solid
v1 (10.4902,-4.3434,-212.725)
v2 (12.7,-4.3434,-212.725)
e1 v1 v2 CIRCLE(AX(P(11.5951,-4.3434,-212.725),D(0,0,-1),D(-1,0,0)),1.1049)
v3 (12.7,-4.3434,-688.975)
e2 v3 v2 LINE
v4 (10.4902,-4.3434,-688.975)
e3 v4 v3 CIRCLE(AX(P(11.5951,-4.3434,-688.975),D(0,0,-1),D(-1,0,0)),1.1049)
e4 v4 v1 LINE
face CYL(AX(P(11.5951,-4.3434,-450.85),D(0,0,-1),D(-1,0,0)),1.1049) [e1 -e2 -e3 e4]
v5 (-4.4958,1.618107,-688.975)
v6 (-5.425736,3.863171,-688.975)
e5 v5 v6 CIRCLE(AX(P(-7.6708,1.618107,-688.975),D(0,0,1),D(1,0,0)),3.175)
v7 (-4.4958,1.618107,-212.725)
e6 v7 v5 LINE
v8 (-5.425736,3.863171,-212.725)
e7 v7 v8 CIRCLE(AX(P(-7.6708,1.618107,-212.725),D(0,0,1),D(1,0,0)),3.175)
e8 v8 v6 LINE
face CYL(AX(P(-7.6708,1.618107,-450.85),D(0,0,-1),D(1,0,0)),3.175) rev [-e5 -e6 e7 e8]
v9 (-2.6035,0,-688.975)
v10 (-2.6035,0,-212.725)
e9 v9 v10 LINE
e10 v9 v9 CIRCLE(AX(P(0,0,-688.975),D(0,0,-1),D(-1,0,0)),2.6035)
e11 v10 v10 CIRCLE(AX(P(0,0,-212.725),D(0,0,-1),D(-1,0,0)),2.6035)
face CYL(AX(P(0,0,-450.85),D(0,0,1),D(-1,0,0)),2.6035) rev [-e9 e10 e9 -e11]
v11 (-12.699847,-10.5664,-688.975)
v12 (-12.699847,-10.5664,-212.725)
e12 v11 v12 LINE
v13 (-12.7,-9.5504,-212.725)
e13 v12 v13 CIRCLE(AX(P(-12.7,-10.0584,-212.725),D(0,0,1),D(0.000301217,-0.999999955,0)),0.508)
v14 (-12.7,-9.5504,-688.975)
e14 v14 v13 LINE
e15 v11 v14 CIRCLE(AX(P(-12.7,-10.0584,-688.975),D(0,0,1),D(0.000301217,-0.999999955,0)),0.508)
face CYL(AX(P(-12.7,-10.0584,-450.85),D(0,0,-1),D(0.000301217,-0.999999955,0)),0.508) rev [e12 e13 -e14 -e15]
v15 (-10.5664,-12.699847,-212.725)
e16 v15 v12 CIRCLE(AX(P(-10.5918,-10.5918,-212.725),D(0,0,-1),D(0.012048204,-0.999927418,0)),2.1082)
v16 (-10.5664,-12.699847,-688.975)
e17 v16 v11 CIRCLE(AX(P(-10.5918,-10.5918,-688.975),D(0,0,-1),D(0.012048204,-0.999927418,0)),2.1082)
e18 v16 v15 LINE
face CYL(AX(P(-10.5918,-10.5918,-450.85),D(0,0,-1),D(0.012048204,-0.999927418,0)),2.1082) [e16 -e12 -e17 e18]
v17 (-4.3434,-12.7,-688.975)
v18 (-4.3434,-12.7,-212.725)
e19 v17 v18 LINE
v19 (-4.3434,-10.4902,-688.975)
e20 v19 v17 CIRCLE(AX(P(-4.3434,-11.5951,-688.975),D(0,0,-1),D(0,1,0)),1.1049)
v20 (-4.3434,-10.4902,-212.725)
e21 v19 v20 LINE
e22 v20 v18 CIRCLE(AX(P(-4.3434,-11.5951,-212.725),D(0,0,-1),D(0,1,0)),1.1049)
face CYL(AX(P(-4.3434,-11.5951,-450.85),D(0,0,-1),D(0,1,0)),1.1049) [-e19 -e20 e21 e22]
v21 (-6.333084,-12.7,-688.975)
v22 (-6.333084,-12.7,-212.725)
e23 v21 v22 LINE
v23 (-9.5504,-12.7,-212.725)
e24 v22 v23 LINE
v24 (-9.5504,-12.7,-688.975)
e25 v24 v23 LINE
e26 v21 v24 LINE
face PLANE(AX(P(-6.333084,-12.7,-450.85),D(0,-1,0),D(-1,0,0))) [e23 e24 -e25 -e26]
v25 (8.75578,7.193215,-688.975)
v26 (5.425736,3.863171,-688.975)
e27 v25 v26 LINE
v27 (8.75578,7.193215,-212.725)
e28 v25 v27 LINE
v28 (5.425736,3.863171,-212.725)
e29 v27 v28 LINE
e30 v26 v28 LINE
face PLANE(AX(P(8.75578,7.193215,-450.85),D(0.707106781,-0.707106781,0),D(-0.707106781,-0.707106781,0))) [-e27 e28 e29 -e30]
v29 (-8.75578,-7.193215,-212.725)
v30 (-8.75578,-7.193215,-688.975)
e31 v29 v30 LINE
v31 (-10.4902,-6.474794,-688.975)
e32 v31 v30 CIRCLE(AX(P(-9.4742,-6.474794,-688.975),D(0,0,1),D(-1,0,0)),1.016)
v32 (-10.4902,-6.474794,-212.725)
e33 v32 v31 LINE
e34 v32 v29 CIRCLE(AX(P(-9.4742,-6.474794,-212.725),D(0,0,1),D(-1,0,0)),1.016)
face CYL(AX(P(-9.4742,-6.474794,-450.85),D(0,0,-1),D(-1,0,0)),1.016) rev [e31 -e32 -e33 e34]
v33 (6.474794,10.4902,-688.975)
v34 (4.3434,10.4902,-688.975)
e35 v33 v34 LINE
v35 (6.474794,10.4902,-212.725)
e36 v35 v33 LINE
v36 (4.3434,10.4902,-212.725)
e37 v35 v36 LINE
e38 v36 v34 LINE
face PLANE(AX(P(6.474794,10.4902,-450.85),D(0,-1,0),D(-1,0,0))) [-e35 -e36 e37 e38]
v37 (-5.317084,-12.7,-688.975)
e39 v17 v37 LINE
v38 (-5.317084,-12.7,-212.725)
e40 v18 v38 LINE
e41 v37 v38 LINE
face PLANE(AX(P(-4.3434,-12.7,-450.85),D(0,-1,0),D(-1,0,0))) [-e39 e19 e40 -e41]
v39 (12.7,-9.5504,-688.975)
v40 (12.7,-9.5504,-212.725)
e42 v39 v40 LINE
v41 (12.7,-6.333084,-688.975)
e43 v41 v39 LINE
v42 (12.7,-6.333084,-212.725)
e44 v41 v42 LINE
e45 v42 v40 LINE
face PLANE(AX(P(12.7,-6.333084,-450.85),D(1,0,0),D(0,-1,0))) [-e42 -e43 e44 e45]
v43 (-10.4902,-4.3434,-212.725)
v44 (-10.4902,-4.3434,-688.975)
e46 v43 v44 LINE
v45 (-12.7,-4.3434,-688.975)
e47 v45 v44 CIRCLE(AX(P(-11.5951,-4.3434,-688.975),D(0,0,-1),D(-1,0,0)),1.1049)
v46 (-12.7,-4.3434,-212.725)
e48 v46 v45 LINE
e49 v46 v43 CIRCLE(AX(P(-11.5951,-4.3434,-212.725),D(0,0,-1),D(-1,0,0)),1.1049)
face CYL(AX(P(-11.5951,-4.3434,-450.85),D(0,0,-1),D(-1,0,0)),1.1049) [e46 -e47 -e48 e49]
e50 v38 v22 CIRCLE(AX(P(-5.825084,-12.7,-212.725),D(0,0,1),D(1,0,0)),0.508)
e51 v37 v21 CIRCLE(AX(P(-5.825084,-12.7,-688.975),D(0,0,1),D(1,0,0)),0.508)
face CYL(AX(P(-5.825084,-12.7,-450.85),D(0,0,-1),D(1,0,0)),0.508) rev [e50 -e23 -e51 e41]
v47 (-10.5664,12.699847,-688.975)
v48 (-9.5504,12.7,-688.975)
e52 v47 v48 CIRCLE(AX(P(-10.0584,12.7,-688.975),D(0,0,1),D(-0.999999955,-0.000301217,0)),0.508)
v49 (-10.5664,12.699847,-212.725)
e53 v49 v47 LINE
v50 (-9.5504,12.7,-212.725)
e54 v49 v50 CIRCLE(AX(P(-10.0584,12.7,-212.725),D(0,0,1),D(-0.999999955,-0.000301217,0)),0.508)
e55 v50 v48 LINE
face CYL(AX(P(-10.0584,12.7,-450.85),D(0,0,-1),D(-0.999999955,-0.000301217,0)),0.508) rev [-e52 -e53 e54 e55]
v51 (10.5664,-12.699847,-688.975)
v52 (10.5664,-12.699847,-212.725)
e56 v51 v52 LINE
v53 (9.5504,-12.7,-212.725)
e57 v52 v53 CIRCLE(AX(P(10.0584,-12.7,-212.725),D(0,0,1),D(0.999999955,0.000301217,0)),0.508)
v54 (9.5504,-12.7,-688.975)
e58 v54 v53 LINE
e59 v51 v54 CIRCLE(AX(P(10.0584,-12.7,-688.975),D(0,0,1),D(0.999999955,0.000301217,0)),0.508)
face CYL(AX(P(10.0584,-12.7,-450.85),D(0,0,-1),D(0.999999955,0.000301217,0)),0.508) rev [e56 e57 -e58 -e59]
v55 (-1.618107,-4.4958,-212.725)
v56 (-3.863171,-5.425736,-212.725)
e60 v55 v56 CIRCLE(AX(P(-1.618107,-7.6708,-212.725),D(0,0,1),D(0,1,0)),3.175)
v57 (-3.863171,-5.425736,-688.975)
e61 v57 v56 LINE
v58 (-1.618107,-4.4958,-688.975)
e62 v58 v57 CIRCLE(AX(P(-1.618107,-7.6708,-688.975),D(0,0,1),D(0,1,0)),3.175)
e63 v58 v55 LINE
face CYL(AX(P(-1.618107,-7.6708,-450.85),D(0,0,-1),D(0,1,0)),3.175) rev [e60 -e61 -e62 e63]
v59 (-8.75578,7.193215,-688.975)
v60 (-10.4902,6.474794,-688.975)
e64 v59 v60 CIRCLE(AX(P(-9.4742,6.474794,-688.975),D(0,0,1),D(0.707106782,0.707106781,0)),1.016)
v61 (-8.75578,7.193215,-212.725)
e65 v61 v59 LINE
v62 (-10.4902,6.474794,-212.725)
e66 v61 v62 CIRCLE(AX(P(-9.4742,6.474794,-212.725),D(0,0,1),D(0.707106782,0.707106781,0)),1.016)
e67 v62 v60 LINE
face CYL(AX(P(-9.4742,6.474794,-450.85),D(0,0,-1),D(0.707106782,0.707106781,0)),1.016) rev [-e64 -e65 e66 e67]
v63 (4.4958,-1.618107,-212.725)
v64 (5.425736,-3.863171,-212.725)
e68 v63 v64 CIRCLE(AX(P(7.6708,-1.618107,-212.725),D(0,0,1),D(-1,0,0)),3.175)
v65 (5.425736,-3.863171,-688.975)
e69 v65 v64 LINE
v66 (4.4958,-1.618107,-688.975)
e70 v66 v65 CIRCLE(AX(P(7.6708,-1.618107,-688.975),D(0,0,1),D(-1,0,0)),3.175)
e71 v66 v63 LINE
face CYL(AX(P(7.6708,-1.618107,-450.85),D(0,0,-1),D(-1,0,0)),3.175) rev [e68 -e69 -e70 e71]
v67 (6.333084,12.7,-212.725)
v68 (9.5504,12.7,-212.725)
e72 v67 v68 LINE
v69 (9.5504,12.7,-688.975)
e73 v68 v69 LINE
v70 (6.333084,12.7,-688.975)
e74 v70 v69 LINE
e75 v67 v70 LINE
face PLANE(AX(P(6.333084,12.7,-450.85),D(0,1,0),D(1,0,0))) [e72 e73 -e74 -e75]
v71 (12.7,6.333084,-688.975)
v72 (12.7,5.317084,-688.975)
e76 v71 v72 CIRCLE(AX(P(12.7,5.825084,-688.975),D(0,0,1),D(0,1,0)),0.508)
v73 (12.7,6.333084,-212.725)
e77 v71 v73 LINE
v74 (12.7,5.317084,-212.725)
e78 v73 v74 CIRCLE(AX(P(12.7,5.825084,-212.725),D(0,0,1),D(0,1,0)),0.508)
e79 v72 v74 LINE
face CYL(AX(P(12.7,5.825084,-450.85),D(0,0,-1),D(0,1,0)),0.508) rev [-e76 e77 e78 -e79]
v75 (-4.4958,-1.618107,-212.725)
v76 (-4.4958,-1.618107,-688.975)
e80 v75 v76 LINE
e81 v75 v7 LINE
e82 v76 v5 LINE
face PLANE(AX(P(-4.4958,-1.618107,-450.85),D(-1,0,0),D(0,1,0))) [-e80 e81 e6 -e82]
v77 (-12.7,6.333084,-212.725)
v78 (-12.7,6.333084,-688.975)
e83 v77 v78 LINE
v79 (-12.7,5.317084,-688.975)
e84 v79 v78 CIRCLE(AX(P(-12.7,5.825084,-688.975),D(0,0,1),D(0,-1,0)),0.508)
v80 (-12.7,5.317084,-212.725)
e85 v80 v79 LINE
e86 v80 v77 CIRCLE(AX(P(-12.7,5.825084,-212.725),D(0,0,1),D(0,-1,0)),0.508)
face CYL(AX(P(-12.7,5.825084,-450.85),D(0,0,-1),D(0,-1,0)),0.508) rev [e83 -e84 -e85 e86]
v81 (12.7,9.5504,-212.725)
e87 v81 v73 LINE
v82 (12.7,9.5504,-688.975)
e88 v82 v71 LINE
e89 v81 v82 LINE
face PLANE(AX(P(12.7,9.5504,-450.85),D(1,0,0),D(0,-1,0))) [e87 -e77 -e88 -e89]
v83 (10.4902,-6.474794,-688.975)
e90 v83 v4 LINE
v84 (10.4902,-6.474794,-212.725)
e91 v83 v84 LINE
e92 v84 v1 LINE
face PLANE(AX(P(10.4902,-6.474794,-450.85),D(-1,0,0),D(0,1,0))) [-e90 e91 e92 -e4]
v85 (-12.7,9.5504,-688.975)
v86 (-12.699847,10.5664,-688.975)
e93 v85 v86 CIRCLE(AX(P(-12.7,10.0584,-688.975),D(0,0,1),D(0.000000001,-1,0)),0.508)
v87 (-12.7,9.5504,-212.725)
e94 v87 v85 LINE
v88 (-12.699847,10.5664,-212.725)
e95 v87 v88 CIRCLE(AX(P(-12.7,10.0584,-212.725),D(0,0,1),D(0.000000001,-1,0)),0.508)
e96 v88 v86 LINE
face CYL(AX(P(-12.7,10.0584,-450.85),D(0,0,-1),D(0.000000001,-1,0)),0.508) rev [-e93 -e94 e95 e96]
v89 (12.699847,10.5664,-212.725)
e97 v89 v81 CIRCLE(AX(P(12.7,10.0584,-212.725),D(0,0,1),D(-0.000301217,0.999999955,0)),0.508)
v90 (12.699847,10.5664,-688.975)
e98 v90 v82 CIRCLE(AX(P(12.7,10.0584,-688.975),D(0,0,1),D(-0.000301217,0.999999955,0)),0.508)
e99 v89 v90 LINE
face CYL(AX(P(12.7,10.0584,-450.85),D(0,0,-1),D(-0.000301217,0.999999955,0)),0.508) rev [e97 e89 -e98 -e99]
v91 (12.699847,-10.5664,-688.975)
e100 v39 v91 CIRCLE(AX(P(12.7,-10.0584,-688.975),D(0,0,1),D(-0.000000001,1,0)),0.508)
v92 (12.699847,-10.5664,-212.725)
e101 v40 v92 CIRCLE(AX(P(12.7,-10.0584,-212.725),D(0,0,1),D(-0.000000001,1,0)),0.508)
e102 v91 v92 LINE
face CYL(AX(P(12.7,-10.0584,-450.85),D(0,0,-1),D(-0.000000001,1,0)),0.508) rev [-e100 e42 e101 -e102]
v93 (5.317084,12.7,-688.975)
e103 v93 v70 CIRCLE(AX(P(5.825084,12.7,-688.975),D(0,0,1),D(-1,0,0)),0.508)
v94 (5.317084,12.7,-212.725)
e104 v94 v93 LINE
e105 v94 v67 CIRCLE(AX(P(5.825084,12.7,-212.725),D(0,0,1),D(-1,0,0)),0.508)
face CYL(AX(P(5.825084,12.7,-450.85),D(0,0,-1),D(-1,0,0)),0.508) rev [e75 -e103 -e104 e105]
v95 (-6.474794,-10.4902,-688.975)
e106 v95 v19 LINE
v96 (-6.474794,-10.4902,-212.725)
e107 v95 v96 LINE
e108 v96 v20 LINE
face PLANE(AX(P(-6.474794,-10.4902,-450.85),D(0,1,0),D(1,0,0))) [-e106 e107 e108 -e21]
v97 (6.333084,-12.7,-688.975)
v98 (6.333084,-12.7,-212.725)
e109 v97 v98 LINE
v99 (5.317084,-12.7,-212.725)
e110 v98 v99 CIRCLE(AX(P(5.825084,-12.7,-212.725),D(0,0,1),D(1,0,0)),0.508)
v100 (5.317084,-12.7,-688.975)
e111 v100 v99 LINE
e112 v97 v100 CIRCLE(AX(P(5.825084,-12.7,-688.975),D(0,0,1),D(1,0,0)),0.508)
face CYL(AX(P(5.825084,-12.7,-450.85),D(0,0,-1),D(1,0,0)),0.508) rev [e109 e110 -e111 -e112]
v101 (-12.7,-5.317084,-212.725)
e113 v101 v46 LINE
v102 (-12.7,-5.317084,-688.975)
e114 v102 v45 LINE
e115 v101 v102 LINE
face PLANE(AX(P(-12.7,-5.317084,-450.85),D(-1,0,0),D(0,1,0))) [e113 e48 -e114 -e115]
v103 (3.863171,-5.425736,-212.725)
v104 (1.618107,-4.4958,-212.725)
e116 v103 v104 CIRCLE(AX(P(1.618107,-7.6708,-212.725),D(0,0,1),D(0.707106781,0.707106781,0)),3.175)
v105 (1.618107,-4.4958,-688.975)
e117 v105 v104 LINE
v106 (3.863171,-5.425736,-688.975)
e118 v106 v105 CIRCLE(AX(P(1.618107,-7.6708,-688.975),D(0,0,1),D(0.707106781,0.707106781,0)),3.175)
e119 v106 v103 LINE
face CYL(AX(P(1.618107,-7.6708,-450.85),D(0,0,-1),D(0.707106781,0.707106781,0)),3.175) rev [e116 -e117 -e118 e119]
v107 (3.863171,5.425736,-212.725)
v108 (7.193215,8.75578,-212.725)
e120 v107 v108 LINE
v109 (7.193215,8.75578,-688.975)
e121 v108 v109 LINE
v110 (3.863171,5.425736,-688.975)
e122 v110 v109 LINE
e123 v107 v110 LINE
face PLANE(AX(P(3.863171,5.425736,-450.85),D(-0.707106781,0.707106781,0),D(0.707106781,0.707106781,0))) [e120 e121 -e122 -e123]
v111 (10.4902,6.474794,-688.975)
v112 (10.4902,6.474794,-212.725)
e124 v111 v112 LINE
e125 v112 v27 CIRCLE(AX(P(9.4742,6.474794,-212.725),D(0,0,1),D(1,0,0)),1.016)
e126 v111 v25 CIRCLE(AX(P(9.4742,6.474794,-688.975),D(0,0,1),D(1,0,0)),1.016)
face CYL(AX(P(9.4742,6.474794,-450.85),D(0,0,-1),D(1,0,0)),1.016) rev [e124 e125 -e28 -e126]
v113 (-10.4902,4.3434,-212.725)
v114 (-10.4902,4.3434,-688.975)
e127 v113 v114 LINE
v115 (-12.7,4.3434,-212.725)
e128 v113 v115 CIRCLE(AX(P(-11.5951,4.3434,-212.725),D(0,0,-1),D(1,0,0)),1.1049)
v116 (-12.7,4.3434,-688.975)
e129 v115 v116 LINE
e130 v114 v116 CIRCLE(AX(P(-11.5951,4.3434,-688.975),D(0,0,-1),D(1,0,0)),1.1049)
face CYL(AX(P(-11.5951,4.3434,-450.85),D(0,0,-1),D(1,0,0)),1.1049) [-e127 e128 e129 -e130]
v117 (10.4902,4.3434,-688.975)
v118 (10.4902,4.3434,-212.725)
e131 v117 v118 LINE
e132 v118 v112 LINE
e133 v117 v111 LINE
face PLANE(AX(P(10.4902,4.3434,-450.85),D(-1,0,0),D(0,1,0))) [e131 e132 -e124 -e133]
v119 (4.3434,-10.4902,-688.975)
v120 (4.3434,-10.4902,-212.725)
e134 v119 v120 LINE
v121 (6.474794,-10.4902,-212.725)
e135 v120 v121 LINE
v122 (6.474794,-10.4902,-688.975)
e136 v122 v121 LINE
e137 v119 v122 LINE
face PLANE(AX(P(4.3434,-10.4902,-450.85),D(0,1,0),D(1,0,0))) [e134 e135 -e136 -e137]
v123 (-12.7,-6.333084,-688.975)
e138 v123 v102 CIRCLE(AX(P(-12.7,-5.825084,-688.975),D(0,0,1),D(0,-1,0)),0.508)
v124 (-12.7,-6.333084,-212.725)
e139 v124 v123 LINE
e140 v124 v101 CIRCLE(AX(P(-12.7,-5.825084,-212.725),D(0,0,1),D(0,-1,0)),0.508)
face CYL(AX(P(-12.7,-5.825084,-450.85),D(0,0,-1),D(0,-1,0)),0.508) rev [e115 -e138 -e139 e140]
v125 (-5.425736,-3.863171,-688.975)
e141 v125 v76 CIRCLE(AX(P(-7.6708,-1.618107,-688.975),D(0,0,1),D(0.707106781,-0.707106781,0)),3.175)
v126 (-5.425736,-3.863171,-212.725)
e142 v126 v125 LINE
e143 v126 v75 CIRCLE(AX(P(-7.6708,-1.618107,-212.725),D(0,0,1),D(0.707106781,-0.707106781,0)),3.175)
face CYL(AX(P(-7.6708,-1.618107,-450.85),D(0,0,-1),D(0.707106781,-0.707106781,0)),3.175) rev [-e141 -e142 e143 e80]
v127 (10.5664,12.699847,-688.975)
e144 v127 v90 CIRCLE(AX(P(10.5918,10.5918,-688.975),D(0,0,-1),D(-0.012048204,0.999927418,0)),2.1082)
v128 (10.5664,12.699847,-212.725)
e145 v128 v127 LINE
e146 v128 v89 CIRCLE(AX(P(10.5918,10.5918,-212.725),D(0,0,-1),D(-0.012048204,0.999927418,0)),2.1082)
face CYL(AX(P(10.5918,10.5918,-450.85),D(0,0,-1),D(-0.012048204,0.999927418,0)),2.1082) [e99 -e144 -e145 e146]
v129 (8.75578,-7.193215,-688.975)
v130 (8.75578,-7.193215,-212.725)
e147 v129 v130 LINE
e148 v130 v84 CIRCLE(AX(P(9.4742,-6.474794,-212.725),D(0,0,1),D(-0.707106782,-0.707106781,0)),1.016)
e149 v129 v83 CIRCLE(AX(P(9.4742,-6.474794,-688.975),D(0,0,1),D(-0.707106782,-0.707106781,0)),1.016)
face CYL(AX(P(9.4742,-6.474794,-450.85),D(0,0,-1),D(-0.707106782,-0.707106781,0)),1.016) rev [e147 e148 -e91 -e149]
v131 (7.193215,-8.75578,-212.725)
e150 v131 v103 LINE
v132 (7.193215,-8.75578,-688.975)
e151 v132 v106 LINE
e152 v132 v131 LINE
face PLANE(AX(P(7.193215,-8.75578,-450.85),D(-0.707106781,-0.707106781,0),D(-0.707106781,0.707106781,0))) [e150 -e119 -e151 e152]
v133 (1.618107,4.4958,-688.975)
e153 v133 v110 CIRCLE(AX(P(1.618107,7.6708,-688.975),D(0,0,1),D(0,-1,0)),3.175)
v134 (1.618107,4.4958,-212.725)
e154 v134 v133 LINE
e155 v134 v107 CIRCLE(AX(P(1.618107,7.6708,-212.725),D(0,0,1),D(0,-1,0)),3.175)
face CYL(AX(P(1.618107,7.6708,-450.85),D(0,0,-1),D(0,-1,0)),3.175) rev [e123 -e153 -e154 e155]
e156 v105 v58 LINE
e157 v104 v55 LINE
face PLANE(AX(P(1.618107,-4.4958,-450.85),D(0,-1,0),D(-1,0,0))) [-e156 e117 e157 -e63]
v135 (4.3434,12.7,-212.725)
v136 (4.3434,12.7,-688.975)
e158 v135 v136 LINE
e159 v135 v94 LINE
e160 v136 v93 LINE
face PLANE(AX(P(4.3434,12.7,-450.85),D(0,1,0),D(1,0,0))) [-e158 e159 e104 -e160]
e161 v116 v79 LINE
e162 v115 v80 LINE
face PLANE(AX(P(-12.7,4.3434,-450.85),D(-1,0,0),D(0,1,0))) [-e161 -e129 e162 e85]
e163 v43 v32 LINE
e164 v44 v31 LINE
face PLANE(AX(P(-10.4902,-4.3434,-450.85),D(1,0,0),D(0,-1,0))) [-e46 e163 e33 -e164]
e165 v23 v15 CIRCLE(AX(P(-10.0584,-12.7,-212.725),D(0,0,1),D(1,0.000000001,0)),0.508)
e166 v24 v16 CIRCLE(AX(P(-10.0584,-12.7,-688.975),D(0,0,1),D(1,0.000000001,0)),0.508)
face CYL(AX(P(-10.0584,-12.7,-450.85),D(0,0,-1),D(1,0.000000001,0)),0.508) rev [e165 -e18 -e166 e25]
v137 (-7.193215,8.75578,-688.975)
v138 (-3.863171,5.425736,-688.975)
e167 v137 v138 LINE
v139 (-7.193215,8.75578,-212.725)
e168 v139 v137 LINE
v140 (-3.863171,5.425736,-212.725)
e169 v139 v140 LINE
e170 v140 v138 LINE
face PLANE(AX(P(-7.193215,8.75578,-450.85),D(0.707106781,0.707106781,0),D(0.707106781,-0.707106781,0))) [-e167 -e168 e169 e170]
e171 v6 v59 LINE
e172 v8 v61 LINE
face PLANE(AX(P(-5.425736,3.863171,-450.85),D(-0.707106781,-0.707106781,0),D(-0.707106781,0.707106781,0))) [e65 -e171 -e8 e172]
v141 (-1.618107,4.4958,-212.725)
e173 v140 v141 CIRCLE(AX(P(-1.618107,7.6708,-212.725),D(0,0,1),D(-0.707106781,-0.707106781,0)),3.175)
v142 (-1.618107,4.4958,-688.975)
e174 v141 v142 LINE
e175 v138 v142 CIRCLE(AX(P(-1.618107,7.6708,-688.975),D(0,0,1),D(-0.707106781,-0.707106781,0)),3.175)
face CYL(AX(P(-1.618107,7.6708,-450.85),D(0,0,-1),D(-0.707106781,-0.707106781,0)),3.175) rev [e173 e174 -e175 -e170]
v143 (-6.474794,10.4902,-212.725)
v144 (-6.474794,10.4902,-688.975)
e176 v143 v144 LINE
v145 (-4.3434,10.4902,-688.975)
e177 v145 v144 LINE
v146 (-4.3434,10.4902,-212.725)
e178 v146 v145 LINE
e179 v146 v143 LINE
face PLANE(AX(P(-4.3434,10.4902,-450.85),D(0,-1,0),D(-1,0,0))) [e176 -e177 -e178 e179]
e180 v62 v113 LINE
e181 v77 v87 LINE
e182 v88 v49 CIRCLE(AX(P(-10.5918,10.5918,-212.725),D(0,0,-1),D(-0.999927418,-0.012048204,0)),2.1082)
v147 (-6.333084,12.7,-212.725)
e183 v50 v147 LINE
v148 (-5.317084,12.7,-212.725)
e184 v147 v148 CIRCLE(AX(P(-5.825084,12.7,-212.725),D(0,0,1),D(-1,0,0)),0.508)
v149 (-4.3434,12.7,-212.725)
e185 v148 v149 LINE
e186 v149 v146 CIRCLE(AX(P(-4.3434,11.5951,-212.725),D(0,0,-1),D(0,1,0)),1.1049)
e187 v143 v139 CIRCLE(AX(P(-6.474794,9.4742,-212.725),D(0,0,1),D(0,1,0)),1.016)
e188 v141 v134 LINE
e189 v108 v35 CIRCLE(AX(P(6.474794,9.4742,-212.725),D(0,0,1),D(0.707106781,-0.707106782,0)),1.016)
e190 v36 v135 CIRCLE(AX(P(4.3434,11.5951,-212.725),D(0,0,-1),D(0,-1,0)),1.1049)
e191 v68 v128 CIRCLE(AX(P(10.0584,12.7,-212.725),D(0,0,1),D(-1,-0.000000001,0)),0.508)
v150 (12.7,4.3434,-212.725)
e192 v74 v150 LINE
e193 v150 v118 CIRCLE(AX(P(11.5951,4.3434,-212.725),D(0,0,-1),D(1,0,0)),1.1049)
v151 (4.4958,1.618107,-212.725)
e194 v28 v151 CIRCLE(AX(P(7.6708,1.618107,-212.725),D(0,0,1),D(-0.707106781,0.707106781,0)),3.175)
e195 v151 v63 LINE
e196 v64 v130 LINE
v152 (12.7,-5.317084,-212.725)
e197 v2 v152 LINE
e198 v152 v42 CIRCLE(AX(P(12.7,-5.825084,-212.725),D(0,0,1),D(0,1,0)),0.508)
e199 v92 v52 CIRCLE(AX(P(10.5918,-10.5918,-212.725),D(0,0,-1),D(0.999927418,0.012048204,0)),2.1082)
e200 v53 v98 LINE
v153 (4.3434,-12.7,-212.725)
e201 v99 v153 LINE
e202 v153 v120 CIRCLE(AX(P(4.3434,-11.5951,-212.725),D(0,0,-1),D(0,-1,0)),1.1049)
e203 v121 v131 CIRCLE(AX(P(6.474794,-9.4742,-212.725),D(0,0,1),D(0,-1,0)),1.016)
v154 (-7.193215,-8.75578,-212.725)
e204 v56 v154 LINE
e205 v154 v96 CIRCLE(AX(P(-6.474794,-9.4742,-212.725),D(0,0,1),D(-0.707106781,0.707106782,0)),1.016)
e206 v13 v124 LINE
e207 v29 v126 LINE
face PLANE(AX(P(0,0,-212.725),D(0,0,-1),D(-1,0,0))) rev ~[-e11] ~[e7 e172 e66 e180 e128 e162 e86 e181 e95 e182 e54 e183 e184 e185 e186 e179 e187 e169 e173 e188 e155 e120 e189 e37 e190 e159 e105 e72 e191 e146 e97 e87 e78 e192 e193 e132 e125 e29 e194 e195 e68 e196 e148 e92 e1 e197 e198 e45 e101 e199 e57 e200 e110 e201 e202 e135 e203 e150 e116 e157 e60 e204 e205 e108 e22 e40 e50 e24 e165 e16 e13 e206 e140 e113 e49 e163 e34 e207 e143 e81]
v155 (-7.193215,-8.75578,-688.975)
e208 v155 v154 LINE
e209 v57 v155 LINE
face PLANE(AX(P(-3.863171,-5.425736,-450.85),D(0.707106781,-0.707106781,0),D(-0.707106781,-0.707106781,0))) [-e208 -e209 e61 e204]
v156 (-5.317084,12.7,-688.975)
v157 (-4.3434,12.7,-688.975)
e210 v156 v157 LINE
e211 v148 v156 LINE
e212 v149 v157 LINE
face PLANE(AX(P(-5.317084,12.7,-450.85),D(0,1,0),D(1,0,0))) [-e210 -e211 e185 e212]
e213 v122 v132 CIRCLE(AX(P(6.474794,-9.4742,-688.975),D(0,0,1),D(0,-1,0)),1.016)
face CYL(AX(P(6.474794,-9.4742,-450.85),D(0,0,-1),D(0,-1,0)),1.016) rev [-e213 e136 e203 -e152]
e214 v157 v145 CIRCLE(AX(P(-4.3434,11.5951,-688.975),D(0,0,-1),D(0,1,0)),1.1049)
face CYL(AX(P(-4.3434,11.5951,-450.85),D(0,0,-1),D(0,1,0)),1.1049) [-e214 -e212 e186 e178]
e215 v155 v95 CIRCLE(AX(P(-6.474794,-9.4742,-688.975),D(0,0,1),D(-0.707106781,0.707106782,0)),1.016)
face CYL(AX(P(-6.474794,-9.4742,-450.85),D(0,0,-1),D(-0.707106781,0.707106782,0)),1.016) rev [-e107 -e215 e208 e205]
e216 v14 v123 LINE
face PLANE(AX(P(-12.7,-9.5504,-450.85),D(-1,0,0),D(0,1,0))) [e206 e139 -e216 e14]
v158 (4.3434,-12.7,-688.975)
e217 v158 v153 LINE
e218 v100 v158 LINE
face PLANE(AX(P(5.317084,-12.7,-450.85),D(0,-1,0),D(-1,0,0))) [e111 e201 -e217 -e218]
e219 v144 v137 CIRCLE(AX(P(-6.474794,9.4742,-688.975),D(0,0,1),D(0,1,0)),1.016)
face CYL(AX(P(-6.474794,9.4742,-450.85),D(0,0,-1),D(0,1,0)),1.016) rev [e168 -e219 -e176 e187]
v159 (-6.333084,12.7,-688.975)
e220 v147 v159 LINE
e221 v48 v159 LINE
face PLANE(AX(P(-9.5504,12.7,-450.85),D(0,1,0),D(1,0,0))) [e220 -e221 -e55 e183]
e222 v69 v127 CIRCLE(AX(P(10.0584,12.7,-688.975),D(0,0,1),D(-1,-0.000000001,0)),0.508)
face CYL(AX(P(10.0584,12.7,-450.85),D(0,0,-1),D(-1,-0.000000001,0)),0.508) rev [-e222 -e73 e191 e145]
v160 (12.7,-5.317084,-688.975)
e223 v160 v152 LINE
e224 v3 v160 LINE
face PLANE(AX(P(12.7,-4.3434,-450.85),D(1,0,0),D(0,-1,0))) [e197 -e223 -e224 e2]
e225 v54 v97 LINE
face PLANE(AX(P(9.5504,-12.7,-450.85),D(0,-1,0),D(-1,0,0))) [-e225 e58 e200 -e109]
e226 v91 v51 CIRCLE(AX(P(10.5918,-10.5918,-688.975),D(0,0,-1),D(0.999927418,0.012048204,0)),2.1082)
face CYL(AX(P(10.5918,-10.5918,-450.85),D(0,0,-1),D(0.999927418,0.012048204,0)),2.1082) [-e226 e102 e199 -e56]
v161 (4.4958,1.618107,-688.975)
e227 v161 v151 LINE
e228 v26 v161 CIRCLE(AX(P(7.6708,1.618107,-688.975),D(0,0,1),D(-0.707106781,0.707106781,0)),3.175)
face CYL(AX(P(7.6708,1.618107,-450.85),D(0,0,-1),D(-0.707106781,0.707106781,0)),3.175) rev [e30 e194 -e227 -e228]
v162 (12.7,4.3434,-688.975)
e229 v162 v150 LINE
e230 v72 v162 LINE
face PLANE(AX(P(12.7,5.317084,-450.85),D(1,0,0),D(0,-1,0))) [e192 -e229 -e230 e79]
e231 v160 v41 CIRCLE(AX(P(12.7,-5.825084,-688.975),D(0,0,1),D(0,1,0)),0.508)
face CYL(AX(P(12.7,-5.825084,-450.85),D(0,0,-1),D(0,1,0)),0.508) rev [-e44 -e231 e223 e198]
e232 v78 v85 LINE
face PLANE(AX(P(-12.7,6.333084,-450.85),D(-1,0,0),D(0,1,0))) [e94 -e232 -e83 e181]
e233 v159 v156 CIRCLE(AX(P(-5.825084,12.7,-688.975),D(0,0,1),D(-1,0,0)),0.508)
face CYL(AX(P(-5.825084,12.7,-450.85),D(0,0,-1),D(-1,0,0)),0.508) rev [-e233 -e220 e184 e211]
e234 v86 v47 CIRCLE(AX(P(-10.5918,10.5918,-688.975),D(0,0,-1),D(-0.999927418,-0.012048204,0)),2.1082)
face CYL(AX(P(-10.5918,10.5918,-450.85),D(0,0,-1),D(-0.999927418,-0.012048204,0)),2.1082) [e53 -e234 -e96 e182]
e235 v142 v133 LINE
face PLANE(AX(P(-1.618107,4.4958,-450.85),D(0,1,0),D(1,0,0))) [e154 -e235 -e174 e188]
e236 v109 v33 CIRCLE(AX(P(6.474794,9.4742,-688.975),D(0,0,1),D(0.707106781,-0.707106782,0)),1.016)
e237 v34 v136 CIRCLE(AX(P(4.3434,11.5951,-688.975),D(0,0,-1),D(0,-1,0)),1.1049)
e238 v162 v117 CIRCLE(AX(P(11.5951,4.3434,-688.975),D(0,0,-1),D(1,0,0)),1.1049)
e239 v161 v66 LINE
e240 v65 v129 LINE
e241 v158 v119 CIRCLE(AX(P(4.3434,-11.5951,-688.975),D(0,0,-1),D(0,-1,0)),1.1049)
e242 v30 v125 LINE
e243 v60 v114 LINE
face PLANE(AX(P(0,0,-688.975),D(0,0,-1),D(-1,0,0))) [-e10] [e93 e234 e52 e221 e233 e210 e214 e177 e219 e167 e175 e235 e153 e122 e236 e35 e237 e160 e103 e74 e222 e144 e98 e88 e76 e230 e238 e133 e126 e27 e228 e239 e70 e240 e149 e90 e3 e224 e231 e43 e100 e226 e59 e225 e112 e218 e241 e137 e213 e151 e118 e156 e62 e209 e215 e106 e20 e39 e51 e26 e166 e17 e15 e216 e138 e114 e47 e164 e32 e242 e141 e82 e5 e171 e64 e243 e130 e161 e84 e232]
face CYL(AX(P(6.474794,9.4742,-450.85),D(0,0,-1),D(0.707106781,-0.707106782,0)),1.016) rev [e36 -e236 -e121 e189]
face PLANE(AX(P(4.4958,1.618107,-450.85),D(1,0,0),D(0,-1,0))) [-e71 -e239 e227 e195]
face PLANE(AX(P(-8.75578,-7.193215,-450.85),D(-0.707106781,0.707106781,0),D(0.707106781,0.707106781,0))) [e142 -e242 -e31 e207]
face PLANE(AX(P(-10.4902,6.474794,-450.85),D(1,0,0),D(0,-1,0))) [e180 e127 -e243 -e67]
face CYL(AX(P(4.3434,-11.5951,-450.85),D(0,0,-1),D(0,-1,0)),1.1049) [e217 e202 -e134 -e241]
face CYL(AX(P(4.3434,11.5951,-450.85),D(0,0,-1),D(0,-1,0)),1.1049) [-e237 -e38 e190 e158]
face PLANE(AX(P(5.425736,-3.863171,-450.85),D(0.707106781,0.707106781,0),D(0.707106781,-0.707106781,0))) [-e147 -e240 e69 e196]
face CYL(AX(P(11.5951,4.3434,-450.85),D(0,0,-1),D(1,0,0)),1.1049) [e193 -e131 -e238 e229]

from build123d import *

# Parameters (mm, degrees)
SKETCH1_R           = 2.6035
BOSS_EXTRUDE1_DEPTH = 238.125


with BuildPart() as part:
    # Sketch1 → Boss-Extrude1 (new body, symmetric)
    with BuildSketch(Plane(origin=(0, 0, -450.85), x_dir=(-1, 0, 0), z_dir=(0, 0, -1))):
        with BuildLine():
            Line((12.7, -9.5504), (12.7, -6.3330836))
            ThreePointArc((12.7, -6.3330836), (12.192, -5.8250836), (12.7, -5.3170836))
            Line((12.7, -5.3170836), (12.7, -4.3434))
            ThreePointArc((12.7, -4.3434), (11.5951, -3.2385), (10.4902, -4.3434))
            Line((10.4902, -4.3434), (10.4902, -6.474794456))
            ThreePointArc((10.4902, -6.474794456), (9.863006367, -7.413456061), (8.75577951, -7.193214945))
            Line((8.75577951, -7.193214945), (5.42573597, -3.863171405))
            ThreePointArc((5.42573597, -3.863171405), (4.737482484, -2.833127272), (4.4958, -1.618107374))
            Line((4.4958, -1.618107374), (4.4958, 1.618107374))
            ThreePointArc((4.4958, 1.618107374), (4.737482484, 2.833127272), (5.42573597, 3.863171405))
            Line((5.42573597, 3.863171405), (8.75577951, 7.193214945))
            ThreePointArc((8.75577951, 7.193214945), (9.863006367, 7.413456061), (10.4902, 6.474794456))
            Line((10.4902, 6.474794456), (10.4902, 4.343399971))
            ThreePointArc((10.4902, 4.343399971), (11.5951, 3.238499971), (12.7, 4.343399971))
            Line((12.7, 4.343399971), (12.7, 5.3170836))
            ThreePointArc((12.7, 5.3170836), (12.192, 5.8250836), (12.7, 6.3330836))
            Line((12.7, 6.3330836), (12.7, 9.5504))
            ThreePointArc((12.7, 9.5504), (12.192000006, 10.058323491), (12.699846982, 10.566399977))
            ThreePointArc((12.699846982, 10.566399977), (12.082522516, 12.082522516), (10.566399977, 12.699846982))
            ThreePointArc((10.566399977, 12.699846982), (10.058323491, 12.192000006), (9.5504, 12.7))
            Line((9.5504, 12.7), (6.3330836, 12.7))
            ThreePointArc((6.3330836, 12.7), (5.8250836, 12.192), (5.3170836, 12.7))
            Line((5.3170836, 12.7), (4.3434, 12.7))
            ThreePointArc((4.3434, 12.7), (3.2385, 11.5951), (4.3434, 10.4902))
            Line((4.3434, 10.4902), (6.474794456, 10.4902))
            ThreePointArc((6.474794456, 10.4902), (7.413456061, 9.863006367), (7.193214945, 8.75577951))
            Line((7.193214945, 8.75577951), (3.863171405, 5.42573597))
            ThreePointArc((3.863171405, 5.42573597), (2.833127272, 4.737482484), (1.618107374, 4.4958))
            Line((1.618107374, 4.4958), (-1.618107374, 4.4958))
            ThreePointArc((-1.618107374, 4.4958), (-2.833127272, 4.737482484), (-3.863171405, 5.42573597))
            Line((-3.863171405, 5.42573597), (-7.193214945, 8.75577951))
            ThreePointArc((-7.193214945, 8.75577951), (-7.413456061, 9.863006367), (-6.474794456, 10.4902))
            Line((-6.474794456, 10.4902), (-4.343399971, 10.4902))
            ThreePointArc((-4.343399971, 10.4902), (-3.238499971, 11.5951), (-4.343399971, 12.7))
            Line((-4.343399971, 12.7), (-5.3170836, 12.7))
            ThreePointArc((-5.3170836, 12.7), (-5.8250836, 12.192), (-6.3330836, 12.7))
            Line((-6.3330836, 12.7), (-9.5504, 12.7))
            ThreePointArc((-9.5504, 12.7), (-10.058323491, 12.192000006), (-10.566399977, 12.699846982))
            ThreePointArc((-10.566399977, 12.699846982), (-12.082522516, 12.082522516), (-12.699846982, 10.566399977))
            ThreePointArc((-12.699846982, 10.566399977), (-12.192000006, 10.058323491), (-12.7, 9.5504))
            Line((-12.7, 9.5504), (-12.7, 6.3330836))
            ThreePointArc((-12.7, 6.3330836), (-12.192, 5.8250836), (-12.7, 5.3170836))
            Line((-12.7, 5.3170836), (-12.7, 4.3434))
            ThreePointArc((-12.7, 4.3434), (-11.5951, 3.2385), (-10.4902, 4.3434))
            Line((-10.4902, 4.3434), (-10.4902, 6.474794456))
            ThreePointArc((-10.4902, 6.474794456), (-9.863006367, 7.413456061), (-8.75577951, 7.193214945))
            Line((-8.75577951, 7.193214945), (-5.42573597, 3.863171405))
            ThreePointArc((-5.42573597, 3.863171405), (-4.737482484, 2.833127272), (-4.4958, 1.618107374))
            Line((-4.4958, 1.618107374), (-4.4958, -1.618107374))
            ThreePointArc((-4.4958, -1.618107374), (-4.737482484, -2.833127272), (-5.42573597, -3.863171405))
            Line((-5.42573597, -3.863171405), (-8.75577951, -7.193214945))
            ThreePointArc((-8.75577951, -7.193214945), (-9.863006367, -7.413456061), (-10.4902, -6.474794456))
            Line((-10.4902, -6.474794456), (-10.4902, -4.343399971))
            ThreePointArc((-10.4902, -4.343399971), (-11.5951, -3.238499971), (-12.7, -4.343399971))
            Line((-12.7, -4.343399971), (-12.7, -5.3170836))
            ThreePointArc((-12.7, -5.3170836), (-12.192, -5.8250836), (-12.7, -6.3330836))
            Line((-12.7, -6.3330836), (-12.7, -9.5504))
            ThreePointArc((-12.7, -9.5504), (-12.192000006, -10.058323491), (-12.699846982, -10.566399977))
            ThreePointArc((-12.699846982, -10.566399977), (-12.082522516, -12.082522516), (-10.566399977, -12.699846982))
            ThreePointArc((-10.566399977, -12.699846982), (-10.058323491, -12.192000006), (-9.5504, -12.7))
            Line((-9.5504, -12.7), (-6.3330836, -12.7))
            ThreePointArc((-6.3330836, -12.7), (-5.8250836, -12.192), (-5.3170836, -12.7))
            Line((-5.3170836, -12.7), (-4.3434, -12.7))
            ThreePointArc((-4.3434, -12.7), (-3.2385, -11.5951), (-4.3434, -10.4902))
            Line((-4.3434, -10.4902), (-6.474794456, -10.4902))
            ThreePointArc((-6.474794456, -10.4902), (-7.413456061, -9.863006367), (-7.193214945, -8.75577951))
            Line((-7.193214945, -8.75577951), (-3.863171405, -5.42573597))
            ThreePointArc((-3.863171405, -5.42573597), (-2.833127272, -4.737482484), (-1.618107374, -4.4958))
            Line((-1.618107374, -4.4958), (1.618107374, -4.4958))
            ThreePointArc((1.618107374, -4.4958), (2.833127272, -4.737482484), (3.863171405, -5.42573597))
            Line((3.863171405, -5.42573597), (7.193214945, -8.75577951))
            ThreePointArc((7.193214945, -8.75577951), (7.413456061, -9.863006367), (6.474794456, -10.4902))
            Line((6.474794456, -10.4902), (4.343399971, -10.4902))
            ThreePointArc((4.343399971, -10.4902), (3.238499971, -11.5951), (4.343399971, -12.7))
            Line((4.343399971, -12.7), (5.3170836, -12.7))
            ThreePointArc((5.3170836, -12.7), (5.8250836, -12.192), (6.3330836, -12.7))
            Line((6.3330836, -12.7), (9.5504, -12.7))
            ThreePointArc((9.5504, -12.7), (10.058323491, -12.192000006), (10.566399977, -12.699846982))
            ThreePointArc((10.566399977, -12.699846982), (12.082522516, -12.082522516), (12.699846982, -10.566399977))
            ThreePointArc((12.699846982, -10.566399977), (12.192000006, -10.058323491), (12.7, -9.5504))
        make_face()
        Circle(SKETCH1_R, mode=Mode.SUBTRACT)
    extrude(amount=BOSS_EXTRUDE1_DEPTH, both=True)


solid = part.part
